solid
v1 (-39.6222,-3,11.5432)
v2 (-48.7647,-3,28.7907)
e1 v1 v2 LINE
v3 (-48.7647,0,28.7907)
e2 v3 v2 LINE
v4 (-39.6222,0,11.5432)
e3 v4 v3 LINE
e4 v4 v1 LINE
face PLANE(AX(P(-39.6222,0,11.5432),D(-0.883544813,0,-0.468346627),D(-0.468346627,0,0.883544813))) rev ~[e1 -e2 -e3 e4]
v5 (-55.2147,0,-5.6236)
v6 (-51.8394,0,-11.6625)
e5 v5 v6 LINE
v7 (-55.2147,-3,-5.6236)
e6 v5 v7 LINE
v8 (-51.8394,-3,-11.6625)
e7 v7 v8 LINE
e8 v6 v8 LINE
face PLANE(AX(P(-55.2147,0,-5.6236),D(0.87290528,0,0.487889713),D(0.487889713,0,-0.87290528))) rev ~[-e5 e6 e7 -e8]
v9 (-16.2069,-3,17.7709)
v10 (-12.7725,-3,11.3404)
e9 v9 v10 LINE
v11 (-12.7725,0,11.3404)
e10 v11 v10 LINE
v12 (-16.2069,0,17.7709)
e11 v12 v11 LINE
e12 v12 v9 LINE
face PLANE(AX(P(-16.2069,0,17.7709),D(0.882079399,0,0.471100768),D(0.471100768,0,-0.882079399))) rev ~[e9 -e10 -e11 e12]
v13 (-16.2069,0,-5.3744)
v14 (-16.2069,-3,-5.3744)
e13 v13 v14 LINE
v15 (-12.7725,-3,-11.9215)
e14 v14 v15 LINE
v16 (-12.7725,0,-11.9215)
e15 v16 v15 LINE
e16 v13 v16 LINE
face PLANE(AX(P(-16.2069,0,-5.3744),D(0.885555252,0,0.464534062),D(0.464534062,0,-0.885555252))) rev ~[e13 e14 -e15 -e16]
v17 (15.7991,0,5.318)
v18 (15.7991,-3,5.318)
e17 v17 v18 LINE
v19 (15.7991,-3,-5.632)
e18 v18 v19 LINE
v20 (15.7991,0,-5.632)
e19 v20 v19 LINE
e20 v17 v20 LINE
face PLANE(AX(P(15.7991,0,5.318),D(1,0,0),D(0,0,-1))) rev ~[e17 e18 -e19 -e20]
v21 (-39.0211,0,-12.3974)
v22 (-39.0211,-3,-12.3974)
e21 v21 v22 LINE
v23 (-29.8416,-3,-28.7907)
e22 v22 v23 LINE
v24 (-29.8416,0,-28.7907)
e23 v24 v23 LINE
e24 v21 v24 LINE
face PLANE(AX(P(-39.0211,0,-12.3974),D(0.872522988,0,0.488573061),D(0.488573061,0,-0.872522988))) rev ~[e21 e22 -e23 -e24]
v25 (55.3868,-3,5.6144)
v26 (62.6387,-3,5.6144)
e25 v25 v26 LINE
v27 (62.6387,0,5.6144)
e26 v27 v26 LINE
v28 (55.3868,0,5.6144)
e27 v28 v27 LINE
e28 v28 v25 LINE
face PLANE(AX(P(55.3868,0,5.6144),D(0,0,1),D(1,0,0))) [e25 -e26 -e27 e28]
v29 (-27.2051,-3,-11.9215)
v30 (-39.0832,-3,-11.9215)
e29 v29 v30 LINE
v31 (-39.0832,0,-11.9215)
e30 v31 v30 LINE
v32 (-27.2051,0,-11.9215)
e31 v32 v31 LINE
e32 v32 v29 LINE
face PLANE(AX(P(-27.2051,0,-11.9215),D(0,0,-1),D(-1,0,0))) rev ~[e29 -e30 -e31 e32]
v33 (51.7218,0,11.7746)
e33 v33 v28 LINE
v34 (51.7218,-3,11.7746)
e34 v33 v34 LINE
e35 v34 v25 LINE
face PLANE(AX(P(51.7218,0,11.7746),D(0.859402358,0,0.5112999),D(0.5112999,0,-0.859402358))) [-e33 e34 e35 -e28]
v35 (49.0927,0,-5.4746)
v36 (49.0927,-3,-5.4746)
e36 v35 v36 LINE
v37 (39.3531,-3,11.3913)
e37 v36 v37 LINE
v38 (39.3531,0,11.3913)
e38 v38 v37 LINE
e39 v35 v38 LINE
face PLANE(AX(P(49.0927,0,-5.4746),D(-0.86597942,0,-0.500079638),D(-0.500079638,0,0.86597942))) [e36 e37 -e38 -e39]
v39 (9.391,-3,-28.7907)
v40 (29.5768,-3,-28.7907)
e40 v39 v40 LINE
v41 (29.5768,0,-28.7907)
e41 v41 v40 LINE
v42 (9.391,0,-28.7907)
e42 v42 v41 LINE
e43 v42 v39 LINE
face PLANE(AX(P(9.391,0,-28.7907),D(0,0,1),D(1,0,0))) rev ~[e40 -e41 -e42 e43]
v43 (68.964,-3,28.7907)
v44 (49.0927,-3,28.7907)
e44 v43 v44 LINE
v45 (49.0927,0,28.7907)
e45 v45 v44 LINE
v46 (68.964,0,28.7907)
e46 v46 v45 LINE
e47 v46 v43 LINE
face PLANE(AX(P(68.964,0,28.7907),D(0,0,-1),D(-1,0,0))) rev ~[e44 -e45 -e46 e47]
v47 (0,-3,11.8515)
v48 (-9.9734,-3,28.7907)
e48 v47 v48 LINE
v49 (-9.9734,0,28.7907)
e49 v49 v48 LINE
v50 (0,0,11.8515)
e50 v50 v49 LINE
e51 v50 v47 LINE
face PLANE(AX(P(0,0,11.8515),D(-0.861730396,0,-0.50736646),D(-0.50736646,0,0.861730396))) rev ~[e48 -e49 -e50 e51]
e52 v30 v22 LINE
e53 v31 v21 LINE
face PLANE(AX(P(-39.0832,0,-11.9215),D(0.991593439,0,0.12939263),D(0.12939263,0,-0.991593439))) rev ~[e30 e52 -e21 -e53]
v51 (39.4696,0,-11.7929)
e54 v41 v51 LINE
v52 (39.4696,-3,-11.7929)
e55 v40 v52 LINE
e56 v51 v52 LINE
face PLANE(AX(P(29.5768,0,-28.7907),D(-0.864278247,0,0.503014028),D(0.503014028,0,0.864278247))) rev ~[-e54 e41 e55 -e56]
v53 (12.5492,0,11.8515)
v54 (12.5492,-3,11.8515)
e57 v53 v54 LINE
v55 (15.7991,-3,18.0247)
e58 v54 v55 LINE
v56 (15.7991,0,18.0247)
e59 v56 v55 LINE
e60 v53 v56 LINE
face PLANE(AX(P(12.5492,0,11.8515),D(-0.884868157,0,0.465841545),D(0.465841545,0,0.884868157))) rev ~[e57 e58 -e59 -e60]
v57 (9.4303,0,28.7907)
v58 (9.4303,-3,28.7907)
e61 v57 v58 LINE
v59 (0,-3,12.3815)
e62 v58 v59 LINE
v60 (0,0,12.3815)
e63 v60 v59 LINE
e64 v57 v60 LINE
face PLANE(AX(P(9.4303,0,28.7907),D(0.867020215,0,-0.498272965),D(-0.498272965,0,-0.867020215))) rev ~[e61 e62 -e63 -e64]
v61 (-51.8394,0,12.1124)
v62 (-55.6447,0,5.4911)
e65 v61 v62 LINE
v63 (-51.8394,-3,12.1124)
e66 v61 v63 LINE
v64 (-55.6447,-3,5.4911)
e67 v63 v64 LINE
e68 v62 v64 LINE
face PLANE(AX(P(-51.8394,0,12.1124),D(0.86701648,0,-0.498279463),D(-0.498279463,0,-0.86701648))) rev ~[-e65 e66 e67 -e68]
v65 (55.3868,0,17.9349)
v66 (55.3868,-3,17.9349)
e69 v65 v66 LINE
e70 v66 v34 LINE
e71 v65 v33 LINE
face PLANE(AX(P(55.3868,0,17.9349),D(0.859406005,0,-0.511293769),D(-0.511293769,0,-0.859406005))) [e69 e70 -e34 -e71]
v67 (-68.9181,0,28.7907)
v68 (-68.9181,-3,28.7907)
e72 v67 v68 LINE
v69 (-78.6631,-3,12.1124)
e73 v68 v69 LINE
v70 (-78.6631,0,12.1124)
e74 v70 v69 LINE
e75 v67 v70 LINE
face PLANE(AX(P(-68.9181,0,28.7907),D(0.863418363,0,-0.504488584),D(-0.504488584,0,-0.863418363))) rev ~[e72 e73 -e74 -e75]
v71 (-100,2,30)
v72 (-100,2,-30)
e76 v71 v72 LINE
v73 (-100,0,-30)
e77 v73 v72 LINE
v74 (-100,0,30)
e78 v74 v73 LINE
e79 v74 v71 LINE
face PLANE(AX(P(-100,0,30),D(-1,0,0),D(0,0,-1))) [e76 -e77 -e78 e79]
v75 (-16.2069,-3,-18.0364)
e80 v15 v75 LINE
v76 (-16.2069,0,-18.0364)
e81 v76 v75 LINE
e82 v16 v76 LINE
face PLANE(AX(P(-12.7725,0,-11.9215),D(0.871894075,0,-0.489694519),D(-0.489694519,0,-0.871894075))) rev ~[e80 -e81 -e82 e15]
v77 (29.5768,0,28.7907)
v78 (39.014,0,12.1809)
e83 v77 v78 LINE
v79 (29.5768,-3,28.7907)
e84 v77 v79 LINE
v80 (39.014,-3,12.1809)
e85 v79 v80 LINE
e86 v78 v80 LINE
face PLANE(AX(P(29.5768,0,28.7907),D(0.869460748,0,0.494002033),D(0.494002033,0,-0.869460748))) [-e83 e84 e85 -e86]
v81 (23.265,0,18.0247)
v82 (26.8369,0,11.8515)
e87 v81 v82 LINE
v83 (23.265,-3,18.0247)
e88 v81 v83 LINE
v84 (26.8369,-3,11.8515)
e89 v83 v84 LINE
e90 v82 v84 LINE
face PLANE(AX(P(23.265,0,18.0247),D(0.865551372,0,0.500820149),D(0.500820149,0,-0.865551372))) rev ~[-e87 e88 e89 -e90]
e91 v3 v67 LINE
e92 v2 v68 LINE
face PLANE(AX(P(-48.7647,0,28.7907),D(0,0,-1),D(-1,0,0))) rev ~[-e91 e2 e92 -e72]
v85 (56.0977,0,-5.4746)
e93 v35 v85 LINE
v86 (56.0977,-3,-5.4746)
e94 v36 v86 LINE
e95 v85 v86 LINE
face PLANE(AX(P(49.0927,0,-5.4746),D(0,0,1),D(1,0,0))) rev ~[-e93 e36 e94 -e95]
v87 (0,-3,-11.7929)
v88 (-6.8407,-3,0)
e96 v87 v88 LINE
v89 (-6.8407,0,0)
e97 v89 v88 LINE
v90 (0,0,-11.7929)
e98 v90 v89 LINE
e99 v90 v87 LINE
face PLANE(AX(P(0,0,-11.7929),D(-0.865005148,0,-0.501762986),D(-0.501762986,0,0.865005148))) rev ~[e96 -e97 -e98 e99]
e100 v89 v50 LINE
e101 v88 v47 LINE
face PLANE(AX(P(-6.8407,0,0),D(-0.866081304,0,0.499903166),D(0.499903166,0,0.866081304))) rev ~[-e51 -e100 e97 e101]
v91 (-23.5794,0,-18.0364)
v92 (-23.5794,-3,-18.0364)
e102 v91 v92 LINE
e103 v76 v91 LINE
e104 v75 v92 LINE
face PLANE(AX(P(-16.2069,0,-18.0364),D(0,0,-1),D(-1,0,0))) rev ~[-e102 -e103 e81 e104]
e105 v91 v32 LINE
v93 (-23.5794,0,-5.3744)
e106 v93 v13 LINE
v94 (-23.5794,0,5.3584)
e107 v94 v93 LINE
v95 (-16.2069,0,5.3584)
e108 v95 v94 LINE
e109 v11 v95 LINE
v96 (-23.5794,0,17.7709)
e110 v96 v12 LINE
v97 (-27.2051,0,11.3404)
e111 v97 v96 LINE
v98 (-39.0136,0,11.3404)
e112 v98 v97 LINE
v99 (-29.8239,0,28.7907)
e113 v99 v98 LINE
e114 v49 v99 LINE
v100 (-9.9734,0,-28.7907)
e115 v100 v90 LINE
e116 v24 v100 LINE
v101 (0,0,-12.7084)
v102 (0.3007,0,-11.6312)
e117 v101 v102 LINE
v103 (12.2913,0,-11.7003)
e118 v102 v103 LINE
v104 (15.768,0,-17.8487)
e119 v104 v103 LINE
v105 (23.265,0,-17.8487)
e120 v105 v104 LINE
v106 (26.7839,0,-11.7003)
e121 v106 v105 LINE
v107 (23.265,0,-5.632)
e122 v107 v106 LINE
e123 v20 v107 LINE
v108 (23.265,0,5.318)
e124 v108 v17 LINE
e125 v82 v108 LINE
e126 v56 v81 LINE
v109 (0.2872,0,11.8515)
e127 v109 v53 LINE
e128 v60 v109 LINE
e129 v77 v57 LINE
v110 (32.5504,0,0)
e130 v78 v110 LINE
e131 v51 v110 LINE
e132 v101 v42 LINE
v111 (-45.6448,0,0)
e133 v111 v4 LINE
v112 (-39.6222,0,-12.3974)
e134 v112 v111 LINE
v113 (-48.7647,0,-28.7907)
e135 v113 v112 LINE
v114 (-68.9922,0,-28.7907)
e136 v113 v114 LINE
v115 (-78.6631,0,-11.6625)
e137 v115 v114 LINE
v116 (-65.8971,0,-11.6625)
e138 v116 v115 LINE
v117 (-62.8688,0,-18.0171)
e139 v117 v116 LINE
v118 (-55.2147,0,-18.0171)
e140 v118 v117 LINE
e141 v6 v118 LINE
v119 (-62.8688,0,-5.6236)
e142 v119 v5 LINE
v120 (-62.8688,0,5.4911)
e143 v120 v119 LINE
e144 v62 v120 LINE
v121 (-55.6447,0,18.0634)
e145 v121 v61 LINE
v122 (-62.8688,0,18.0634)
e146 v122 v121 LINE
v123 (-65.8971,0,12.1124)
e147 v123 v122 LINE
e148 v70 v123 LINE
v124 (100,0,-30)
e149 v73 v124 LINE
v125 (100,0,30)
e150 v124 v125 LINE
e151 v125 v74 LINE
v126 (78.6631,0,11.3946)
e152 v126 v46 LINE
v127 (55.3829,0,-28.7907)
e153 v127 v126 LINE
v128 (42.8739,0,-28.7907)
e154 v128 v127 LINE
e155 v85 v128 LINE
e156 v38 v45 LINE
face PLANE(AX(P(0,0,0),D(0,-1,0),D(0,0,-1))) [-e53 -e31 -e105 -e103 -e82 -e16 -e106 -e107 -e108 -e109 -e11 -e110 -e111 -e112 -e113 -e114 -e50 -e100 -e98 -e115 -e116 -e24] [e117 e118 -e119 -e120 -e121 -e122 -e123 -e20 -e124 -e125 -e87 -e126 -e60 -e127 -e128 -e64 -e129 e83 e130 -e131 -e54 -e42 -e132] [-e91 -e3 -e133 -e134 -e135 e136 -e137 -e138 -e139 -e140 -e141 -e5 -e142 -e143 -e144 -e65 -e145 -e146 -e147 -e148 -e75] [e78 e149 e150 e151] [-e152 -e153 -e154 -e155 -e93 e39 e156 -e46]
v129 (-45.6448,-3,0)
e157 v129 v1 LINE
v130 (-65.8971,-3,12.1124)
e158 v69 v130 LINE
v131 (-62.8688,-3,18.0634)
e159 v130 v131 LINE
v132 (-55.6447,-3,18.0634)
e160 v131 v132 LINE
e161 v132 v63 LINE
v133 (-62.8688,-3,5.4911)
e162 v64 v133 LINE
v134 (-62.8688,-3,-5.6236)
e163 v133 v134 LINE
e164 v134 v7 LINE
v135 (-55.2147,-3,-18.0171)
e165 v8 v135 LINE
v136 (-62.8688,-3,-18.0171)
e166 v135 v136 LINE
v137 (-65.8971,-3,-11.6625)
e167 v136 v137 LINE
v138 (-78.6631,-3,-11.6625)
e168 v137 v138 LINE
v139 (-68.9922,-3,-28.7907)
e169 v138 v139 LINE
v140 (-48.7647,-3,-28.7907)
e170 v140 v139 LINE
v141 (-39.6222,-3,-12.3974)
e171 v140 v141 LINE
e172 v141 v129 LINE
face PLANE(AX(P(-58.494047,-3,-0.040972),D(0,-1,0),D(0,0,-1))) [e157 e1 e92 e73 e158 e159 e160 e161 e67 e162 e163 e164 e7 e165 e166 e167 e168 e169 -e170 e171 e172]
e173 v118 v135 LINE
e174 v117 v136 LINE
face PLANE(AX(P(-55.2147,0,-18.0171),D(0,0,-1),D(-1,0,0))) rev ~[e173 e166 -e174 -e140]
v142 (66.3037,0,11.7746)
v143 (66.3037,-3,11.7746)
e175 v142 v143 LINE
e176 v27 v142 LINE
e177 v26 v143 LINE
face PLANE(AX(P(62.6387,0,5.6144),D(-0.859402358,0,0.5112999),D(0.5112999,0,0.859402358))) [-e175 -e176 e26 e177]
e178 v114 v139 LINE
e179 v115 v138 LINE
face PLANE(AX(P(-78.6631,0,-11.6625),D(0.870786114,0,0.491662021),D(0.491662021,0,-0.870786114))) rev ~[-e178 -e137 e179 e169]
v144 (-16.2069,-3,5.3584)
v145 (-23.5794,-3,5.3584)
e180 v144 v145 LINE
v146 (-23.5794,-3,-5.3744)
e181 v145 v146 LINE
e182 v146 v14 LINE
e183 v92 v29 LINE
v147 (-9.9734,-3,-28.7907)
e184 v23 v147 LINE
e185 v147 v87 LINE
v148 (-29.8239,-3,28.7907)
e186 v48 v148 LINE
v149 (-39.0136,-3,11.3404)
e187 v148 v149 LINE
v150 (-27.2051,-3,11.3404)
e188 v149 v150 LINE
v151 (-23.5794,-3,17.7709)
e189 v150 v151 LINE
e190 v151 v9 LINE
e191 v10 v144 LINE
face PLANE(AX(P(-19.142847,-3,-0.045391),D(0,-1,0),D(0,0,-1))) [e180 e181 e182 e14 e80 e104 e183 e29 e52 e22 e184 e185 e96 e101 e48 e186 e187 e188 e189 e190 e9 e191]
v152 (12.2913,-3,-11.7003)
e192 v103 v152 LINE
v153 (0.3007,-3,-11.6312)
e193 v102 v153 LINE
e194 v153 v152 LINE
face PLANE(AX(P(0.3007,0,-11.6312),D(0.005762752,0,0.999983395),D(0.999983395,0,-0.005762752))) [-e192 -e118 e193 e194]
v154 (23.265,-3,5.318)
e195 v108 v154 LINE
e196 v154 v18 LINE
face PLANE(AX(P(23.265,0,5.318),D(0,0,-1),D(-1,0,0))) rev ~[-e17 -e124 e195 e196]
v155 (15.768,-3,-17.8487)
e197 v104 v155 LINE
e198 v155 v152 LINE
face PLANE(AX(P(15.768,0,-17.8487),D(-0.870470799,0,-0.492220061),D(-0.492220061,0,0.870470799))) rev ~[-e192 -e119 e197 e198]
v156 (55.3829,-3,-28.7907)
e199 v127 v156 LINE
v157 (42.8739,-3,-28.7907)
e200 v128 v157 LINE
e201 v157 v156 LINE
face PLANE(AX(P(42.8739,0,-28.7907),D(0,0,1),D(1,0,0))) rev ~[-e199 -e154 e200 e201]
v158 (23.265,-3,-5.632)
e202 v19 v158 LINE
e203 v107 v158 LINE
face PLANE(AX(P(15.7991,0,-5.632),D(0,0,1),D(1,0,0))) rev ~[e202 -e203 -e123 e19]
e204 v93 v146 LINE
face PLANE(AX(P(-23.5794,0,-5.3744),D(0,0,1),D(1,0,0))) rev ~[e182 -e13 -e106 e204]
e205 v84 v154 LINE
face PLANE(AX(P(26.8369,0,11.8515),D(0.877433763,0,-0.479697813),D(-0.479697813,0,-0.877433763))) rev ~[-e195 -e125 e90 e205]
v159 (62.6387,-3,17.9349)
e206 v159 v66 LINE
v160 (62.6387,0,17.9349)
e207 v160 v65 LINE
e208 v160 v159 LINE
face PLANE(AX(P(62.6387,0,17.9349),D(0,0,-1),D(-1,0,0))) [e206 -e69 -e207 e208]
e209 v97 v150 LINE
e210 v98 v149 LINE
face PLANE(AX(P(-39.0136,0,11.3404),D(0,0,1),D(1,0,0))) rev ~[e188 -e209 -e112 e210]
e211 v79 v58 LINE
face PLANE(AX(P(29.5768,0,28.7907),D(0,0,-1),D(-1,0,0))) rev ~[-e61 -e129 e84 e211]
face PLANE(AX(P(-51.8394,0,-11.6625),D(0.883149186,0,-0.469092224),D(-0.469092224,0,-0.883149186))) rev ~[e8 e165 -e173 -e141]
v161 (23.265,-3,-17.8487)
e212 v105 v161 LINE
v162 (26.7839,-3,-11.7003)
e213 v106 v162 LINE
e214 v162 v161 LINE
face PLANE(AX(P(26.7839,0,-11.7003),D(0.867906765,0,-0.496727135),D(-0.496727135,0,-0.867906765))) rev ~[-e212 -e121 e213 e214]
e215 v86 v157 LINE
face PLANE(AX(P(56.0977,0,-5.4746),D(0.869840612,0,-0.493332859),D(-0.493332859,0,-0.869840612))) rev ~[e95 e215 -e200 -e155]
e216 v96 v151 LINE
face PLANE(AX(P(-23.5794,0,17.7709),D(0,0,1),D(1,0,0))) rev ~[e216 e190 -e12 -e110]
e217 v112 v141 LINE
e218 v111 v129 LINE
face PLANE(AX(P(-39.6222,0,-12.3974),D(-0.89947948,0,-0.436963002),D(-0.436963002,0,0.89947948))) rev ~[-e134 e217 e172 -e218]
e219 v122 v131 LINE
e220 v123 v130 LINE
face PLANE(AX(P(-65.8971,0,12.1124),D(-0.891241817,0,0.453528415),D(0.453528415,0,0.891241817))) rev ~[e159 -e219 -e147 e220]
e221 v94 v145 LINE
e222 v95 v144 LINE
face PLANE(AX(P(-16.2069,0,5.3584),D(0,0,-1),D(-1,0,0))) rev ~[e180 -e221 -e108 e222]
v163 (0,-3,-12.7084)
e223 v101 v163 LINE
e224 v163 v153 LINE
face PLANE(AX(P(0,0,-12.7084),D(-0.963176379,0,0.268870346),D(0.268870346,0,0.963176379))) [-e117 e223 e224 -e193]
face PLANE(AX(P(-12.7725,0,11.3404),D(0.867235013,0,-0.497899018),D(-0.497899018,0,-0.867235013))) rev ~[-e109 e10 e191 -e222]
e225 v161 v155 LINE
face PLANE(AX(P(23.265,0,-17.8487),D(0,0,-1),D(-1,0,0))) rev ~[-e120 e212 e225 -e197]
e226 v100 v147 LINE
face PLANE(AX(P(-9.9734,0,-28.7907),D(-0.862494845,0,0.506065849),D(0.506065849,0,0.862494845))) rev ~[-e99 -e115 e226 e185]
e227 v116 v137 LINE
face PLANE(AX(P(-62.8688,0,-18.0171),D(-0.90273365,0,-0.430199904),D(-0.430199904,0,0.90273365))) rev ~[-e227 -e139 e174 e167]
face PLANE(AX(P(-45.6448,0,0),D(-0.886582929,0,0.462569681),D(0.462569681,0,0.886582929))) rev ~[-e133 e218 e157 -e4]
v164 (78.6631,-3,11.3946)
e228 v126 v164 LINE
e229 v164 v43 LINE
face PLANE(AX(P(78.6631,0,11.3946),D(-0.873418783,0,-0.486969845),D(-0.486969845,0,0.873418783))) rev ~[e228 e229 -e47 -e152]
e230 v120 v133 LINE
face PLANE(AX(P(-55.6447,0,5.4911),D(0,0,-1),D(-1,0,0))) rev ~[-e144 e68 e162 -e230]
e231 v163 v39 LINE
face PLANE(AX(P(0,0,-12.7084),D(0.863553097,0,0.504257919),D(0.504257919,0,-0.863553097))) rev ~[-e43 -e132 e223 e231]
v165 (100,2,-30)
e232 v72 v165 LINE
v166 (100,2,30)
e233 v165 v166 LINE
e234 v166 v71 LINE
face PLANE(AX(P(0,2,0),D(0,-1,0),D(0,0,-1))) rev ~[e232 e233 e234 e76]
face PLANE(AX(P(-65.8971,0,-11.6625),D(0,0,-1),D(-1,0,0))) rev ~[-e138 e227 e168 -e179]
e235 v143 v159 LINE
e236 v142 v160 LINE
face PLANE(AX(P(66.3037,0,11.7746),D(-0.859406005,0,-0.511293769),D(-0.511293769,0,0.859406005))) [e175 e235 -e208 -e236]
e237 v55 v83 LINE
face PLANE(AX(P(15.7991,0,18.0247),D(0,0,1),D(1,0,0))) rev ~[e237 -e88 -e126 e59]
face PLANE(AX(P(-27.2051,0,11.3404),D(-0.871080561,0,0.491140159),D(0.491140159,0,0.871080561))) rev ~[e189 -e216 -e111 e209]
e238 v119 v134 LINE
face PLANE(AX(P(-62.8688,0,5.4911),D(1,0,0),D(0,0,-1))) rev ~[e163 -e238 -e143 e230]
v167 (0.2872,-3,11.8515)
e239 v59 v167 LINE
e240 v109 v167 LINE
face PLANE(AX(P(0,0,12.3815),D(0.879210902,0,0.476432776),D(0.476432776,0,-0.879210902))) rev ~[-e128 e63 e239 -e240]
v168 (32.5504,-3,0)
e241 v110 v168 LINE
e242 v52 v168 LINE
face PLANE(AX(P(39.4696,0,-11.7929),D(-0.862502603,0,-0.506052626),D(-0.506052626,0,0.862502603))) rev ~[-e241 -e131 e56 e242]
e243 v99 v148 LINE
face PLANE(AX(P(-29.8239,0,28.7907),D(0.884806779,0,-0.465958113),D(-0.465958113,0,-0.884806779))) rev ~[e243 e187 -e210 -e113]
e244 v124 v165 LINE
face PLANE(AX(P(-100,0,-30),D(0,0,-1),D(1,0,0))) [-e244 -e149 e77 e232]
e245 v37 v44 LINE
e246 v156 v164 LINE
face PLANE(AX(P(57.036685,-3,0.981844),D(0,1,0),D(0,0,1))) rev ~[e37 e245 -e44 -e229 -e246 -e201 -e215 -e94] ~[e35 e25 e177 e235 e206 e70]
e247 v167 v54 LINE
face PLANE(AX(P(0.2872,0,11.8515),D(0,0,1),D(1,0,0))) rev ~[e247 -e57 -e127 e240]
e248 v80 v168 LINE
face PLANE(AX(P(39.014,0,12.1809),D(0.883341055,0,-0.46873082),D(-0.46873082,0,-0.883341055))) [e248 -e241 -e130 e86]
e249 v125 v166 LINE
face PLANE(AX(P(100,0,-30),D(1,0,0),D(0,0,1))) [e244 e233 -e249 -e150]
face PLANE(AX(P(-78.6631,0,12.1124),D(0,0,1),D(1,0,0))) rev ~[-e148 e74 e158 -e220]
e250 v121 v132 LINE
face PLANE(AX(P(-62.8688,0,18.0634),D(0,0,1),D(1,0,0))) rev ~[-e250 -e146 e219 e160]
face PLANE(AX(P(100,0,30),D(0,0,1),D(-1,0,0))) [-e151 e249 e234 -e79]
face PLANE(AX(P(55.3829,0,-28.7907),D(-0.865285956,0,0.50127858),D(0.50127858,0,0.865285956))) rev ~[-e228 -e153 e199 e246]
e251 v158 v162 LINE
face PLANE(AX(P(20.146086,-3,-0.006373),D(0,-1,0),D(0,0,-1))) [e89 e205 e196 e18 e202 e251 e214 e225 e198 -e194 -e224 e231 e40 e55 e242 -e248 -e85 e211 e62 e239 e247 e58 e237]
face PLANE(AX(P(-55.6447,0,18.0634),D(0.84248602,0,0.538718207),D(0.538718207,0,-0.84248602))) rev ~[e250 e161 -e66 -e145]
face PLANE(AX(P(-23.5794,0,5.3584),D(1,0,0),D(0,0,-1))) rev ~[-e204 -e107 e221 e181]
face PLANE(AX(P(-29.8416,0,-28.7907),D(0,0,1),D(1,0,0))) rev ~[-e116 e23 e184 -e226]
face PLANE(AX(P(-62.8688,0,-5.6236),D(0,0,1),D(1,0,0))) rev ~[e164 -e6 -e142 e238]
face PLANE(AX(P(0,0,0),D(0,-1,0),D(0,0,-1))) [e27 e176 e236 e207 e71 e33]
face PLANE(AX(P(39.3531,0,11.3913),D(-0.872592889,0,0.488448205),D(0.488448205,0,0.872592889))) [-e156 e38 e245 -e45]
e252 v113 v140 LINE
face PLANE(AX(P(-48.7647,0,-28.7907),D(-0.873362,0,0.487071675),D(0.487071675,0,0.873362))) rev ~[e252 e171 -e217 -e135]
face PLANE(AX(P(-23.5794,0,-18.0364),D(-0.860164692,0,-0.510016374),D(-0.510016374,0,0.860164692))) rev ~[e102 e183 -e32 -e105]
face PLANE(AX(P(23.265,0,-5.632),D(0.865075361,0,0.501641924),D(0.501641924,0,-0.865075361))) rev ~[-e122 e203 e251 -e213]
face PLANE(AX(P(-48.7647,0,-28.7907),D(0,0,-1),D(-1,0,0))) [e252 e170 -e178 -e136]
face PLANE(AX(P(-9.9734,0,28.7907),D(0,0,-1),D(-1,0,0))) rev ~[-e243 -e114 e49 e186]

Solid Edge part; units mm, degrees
sketch "Sketch1" plane through (0, 0, 0) normal (0, -1, 0) x (1, 0, 0)
  line L0 (-100, -30) -> (100, -30)
  line L1 (100, -30) -> (100, 30)
  line L2 (100, 30) -> (-100, 30)
  line L3 (-100, 30) -> (-100, -30)
  dimension "D1" = 200
  dimension "D2" = 60
extrude "Protrusion1" add sketch "Sketch1" against normal blind 2
sketch "Sketch2" plane through (0, 0, 0) normal (0, -1, 0) x (1, 0, 0)
  line L0 (-39.6222, 11.5432) -> (-48.7647, 28.7907)
  line L1 (-48.7647, 28.7907) -> (-68.9181, 28.7907)
  line L2 (-68.9181, 28.7907) -> (-78.6631, 12.1124)
  line L3 (-78.6631, 12.1124) -> (-65.8971, 12.1124)
  line L4 (-65.8971, 12.1124) -> (-62.8688, 18.0634)
  line L5 (-62.8688, 18.0634) -> (-55.6447, 18.0634)
  line L6 (-55.6447, 18.0634) -> (-51.8394, 12.1124)
  line L7 (-51.8394, 12.1124) -> (-55.6447, 5.4911)
  line L8 (-55.6447, 5.4911) -> (-62.8688, 5.4911)
  line L9 (-62.8688, 5.4911) -> (-62.8688, -5.6236)
  line L10 (-62.8688, -5.6236) -> (-55.2147, -5.6236)
  line L11 (-55.2147, -5.6236) -> (-51.8394, -11.6625)
  line L12 (-51.8394, -11.6625) -> (-55.2147, -18.0171)
  line L13 (-55.2147, -18.0171) -> (-62.8688, -18.0171)
  line L14 (-62.8688, -18.0171) -> (-65.8971, -11.6625)
  line L15 (-65.8971, -11.6625) -> (-78.6631, -11.6625)
  line L16 (-78.6631, -11.6625) -> (-68.9922, -28.7907)
  line L17 (-48.7647, -28.7907) -> (-68.9922, -28.7907)
  line L18 (-48.7647, -28.7907) -> (-39.6222, -12.3974)
  line L19 (-39.6222, -12.3974) -> (-45.6448, 0)
  line L20 (-45.6448, 0) -> (-39.6222, 11.5432)
  line L21 (-29.8239, 28.7907) -> (-39.0136, 11.3404)
  line L22 (-39.0136, 11.3404) -> (-27.2051, 11.3404)
  line L23 (-27.2051, 11.3404) -> (-23.5794, 17.7709)
  line L24 (-23.5794, 17.7709) -> (-16.2069, 17.7709)
  line L25 (-16.2069, 17.7709) -> (-12.7725, 11.3404)
  line L26 (-12.7725, 11.3404) -> (-16.2069, 5.3584)
  line L27 (-16.2069, 5.3584) -> (-23.5794, 5.3584)
  line L28 (-23.5794, 5.3584) -> (-23.5794, -5.3744)
  line L29 (-23.5794, -5.3744) -> (-16.2069, -5.3744)
  line L30 (-16.2069, -5.3744) -> (-12.7725, -11.9215)
  line L31 (-12.7725, -11.9215) -> (-16.2069, -18.0364)
  line L32 (-16.2069, -18.0364) -> (-23.5794, -18.0364)
  line L33 (-23.5794, -18.0364) -> (-27.2051, -11.9215)
  line L34 (-27.2051, -11.9215) -> (-39.0832, -11.9215)
  line L35 (-39.0832, -11.9215) -> (-39.0211, -12.3974)
  line L36 (-39.0211, -12.3974) -> (-29.8416, -28.7907)
  line L37 (-29.8416, -28.7907) -> (-9.9734, -28.7907)
  line L38 (-9.9734, -28.7907) -> (0, -11.7929)
  line L39 (0, -11.7929) -> (-6.8407, 0)
  line L40 (-6.8407, 0) -> (0, 11.8515)
  line L41 (0, 11.8515) -> (-9.9734, 28.7907)
  line L42 (-9.9734, 28.7907) -> (-29.8239, 28.7907)
  line L43 (9.4303, 28.7907) -> (0, 12.3815)
  line L44 (0, 12.3815) -> (0.2872, 11.8515)
  line L45 (0.2872, 11.8515) -> (12.5492, 11.8515)
  line L46 (12.5492, 11.8515) -> (15.7991, 18.0247)
  line L47 (15.7991, 18.0247) -> (23.265, 18.0247)
  line L48 (23.265, 18.0247) -> (26.8369, 11.8515)
  line L49 (26.8369, 11.8515) -> (23.265, 5.318)
  line L50 (23.265, 5.318) -> (15.7991, 5.318)
  line L51 (15.7991, 5.318) -> (15.7991, -5.632)
  line L52 (15.7991, -5.632) -> (23.265, -5.632)
  line L53 (23.265, -5.632) -> (26.7839, -11.7003)
  line L54 (26.7839, -11.7003) -> (23.265, -17.8487)
  line L55 (23.265, -17.8487) -> (15.768, -17.8487)
  line L56 (15.768, -17.8487) -> (12.2913, -11.7003)
  line L57 (0.3007, -11.6312) -> (12.2913, -11.7003)
  line L58 (0, -12.7084) -> (0.3007, -11.6312)
  line L59 (0, -12.7084) -> (9.391, -28.7907)
  line L60 (9.391, -28.7907) -> (29.5768, -28.7907)
  line L61 (29.5768, -28.7907) -> (39.4696, -11.7929)
  line L62 (39.4696, -11.7929) -> (32.5504, 0)
  line L63 (39.014, 12.1809) -> (32.5504, 0)
  line L64 (29.5768, 28.7907) -> (39.014, 12.1809)
  line L65 (29.5768, 28.7907) -> (9.4303, 28.7907)
  line L66 (39.3531, 11.3913) -> (49.0927, 28.7907)
  line L67 (68.964, 28.7907) -> (49.0927, 28.7907)
  line L68 (78.6631, 11.3946) -> (68.964, 28.7907)
  line L69 (55.3829, -28.7907) -> (78.6631, 11.3946)
  line L70 (42.8739, -28.7907) -> (55.3829, -28.7907)
  line L71 (56.0977, -5.4746) -> (42.8739, -28.7907)
  line L72 (49.0927, -5.4746) -> (56.0977, -5.4746)
  line L73 (49.0927, -5.4746) -> (39.3531, 11.3913)
  line L74 (51.7218, 11.7746) -> (55.3868, 5.6144)
  line L75 (55.3868, 5.6144) -> (62.6387, 5.6144)
  line L76 (62.6387, 5.6144) -> (66.3037, 11.7746)
  line L77 (66.3037, 11.7746) -> (62.6387, 17.9349)
  line L78 (62.6387, 17.9349) -> (55.3868, 17.9349)
  line L79 (55.3868, 17.9349) -> (51.7218, 11.7746)
extrude "ExtrudedProtrusion_3" add sketch "Sketch2" along normal blind 3
properties part number "BumbleB0912"
